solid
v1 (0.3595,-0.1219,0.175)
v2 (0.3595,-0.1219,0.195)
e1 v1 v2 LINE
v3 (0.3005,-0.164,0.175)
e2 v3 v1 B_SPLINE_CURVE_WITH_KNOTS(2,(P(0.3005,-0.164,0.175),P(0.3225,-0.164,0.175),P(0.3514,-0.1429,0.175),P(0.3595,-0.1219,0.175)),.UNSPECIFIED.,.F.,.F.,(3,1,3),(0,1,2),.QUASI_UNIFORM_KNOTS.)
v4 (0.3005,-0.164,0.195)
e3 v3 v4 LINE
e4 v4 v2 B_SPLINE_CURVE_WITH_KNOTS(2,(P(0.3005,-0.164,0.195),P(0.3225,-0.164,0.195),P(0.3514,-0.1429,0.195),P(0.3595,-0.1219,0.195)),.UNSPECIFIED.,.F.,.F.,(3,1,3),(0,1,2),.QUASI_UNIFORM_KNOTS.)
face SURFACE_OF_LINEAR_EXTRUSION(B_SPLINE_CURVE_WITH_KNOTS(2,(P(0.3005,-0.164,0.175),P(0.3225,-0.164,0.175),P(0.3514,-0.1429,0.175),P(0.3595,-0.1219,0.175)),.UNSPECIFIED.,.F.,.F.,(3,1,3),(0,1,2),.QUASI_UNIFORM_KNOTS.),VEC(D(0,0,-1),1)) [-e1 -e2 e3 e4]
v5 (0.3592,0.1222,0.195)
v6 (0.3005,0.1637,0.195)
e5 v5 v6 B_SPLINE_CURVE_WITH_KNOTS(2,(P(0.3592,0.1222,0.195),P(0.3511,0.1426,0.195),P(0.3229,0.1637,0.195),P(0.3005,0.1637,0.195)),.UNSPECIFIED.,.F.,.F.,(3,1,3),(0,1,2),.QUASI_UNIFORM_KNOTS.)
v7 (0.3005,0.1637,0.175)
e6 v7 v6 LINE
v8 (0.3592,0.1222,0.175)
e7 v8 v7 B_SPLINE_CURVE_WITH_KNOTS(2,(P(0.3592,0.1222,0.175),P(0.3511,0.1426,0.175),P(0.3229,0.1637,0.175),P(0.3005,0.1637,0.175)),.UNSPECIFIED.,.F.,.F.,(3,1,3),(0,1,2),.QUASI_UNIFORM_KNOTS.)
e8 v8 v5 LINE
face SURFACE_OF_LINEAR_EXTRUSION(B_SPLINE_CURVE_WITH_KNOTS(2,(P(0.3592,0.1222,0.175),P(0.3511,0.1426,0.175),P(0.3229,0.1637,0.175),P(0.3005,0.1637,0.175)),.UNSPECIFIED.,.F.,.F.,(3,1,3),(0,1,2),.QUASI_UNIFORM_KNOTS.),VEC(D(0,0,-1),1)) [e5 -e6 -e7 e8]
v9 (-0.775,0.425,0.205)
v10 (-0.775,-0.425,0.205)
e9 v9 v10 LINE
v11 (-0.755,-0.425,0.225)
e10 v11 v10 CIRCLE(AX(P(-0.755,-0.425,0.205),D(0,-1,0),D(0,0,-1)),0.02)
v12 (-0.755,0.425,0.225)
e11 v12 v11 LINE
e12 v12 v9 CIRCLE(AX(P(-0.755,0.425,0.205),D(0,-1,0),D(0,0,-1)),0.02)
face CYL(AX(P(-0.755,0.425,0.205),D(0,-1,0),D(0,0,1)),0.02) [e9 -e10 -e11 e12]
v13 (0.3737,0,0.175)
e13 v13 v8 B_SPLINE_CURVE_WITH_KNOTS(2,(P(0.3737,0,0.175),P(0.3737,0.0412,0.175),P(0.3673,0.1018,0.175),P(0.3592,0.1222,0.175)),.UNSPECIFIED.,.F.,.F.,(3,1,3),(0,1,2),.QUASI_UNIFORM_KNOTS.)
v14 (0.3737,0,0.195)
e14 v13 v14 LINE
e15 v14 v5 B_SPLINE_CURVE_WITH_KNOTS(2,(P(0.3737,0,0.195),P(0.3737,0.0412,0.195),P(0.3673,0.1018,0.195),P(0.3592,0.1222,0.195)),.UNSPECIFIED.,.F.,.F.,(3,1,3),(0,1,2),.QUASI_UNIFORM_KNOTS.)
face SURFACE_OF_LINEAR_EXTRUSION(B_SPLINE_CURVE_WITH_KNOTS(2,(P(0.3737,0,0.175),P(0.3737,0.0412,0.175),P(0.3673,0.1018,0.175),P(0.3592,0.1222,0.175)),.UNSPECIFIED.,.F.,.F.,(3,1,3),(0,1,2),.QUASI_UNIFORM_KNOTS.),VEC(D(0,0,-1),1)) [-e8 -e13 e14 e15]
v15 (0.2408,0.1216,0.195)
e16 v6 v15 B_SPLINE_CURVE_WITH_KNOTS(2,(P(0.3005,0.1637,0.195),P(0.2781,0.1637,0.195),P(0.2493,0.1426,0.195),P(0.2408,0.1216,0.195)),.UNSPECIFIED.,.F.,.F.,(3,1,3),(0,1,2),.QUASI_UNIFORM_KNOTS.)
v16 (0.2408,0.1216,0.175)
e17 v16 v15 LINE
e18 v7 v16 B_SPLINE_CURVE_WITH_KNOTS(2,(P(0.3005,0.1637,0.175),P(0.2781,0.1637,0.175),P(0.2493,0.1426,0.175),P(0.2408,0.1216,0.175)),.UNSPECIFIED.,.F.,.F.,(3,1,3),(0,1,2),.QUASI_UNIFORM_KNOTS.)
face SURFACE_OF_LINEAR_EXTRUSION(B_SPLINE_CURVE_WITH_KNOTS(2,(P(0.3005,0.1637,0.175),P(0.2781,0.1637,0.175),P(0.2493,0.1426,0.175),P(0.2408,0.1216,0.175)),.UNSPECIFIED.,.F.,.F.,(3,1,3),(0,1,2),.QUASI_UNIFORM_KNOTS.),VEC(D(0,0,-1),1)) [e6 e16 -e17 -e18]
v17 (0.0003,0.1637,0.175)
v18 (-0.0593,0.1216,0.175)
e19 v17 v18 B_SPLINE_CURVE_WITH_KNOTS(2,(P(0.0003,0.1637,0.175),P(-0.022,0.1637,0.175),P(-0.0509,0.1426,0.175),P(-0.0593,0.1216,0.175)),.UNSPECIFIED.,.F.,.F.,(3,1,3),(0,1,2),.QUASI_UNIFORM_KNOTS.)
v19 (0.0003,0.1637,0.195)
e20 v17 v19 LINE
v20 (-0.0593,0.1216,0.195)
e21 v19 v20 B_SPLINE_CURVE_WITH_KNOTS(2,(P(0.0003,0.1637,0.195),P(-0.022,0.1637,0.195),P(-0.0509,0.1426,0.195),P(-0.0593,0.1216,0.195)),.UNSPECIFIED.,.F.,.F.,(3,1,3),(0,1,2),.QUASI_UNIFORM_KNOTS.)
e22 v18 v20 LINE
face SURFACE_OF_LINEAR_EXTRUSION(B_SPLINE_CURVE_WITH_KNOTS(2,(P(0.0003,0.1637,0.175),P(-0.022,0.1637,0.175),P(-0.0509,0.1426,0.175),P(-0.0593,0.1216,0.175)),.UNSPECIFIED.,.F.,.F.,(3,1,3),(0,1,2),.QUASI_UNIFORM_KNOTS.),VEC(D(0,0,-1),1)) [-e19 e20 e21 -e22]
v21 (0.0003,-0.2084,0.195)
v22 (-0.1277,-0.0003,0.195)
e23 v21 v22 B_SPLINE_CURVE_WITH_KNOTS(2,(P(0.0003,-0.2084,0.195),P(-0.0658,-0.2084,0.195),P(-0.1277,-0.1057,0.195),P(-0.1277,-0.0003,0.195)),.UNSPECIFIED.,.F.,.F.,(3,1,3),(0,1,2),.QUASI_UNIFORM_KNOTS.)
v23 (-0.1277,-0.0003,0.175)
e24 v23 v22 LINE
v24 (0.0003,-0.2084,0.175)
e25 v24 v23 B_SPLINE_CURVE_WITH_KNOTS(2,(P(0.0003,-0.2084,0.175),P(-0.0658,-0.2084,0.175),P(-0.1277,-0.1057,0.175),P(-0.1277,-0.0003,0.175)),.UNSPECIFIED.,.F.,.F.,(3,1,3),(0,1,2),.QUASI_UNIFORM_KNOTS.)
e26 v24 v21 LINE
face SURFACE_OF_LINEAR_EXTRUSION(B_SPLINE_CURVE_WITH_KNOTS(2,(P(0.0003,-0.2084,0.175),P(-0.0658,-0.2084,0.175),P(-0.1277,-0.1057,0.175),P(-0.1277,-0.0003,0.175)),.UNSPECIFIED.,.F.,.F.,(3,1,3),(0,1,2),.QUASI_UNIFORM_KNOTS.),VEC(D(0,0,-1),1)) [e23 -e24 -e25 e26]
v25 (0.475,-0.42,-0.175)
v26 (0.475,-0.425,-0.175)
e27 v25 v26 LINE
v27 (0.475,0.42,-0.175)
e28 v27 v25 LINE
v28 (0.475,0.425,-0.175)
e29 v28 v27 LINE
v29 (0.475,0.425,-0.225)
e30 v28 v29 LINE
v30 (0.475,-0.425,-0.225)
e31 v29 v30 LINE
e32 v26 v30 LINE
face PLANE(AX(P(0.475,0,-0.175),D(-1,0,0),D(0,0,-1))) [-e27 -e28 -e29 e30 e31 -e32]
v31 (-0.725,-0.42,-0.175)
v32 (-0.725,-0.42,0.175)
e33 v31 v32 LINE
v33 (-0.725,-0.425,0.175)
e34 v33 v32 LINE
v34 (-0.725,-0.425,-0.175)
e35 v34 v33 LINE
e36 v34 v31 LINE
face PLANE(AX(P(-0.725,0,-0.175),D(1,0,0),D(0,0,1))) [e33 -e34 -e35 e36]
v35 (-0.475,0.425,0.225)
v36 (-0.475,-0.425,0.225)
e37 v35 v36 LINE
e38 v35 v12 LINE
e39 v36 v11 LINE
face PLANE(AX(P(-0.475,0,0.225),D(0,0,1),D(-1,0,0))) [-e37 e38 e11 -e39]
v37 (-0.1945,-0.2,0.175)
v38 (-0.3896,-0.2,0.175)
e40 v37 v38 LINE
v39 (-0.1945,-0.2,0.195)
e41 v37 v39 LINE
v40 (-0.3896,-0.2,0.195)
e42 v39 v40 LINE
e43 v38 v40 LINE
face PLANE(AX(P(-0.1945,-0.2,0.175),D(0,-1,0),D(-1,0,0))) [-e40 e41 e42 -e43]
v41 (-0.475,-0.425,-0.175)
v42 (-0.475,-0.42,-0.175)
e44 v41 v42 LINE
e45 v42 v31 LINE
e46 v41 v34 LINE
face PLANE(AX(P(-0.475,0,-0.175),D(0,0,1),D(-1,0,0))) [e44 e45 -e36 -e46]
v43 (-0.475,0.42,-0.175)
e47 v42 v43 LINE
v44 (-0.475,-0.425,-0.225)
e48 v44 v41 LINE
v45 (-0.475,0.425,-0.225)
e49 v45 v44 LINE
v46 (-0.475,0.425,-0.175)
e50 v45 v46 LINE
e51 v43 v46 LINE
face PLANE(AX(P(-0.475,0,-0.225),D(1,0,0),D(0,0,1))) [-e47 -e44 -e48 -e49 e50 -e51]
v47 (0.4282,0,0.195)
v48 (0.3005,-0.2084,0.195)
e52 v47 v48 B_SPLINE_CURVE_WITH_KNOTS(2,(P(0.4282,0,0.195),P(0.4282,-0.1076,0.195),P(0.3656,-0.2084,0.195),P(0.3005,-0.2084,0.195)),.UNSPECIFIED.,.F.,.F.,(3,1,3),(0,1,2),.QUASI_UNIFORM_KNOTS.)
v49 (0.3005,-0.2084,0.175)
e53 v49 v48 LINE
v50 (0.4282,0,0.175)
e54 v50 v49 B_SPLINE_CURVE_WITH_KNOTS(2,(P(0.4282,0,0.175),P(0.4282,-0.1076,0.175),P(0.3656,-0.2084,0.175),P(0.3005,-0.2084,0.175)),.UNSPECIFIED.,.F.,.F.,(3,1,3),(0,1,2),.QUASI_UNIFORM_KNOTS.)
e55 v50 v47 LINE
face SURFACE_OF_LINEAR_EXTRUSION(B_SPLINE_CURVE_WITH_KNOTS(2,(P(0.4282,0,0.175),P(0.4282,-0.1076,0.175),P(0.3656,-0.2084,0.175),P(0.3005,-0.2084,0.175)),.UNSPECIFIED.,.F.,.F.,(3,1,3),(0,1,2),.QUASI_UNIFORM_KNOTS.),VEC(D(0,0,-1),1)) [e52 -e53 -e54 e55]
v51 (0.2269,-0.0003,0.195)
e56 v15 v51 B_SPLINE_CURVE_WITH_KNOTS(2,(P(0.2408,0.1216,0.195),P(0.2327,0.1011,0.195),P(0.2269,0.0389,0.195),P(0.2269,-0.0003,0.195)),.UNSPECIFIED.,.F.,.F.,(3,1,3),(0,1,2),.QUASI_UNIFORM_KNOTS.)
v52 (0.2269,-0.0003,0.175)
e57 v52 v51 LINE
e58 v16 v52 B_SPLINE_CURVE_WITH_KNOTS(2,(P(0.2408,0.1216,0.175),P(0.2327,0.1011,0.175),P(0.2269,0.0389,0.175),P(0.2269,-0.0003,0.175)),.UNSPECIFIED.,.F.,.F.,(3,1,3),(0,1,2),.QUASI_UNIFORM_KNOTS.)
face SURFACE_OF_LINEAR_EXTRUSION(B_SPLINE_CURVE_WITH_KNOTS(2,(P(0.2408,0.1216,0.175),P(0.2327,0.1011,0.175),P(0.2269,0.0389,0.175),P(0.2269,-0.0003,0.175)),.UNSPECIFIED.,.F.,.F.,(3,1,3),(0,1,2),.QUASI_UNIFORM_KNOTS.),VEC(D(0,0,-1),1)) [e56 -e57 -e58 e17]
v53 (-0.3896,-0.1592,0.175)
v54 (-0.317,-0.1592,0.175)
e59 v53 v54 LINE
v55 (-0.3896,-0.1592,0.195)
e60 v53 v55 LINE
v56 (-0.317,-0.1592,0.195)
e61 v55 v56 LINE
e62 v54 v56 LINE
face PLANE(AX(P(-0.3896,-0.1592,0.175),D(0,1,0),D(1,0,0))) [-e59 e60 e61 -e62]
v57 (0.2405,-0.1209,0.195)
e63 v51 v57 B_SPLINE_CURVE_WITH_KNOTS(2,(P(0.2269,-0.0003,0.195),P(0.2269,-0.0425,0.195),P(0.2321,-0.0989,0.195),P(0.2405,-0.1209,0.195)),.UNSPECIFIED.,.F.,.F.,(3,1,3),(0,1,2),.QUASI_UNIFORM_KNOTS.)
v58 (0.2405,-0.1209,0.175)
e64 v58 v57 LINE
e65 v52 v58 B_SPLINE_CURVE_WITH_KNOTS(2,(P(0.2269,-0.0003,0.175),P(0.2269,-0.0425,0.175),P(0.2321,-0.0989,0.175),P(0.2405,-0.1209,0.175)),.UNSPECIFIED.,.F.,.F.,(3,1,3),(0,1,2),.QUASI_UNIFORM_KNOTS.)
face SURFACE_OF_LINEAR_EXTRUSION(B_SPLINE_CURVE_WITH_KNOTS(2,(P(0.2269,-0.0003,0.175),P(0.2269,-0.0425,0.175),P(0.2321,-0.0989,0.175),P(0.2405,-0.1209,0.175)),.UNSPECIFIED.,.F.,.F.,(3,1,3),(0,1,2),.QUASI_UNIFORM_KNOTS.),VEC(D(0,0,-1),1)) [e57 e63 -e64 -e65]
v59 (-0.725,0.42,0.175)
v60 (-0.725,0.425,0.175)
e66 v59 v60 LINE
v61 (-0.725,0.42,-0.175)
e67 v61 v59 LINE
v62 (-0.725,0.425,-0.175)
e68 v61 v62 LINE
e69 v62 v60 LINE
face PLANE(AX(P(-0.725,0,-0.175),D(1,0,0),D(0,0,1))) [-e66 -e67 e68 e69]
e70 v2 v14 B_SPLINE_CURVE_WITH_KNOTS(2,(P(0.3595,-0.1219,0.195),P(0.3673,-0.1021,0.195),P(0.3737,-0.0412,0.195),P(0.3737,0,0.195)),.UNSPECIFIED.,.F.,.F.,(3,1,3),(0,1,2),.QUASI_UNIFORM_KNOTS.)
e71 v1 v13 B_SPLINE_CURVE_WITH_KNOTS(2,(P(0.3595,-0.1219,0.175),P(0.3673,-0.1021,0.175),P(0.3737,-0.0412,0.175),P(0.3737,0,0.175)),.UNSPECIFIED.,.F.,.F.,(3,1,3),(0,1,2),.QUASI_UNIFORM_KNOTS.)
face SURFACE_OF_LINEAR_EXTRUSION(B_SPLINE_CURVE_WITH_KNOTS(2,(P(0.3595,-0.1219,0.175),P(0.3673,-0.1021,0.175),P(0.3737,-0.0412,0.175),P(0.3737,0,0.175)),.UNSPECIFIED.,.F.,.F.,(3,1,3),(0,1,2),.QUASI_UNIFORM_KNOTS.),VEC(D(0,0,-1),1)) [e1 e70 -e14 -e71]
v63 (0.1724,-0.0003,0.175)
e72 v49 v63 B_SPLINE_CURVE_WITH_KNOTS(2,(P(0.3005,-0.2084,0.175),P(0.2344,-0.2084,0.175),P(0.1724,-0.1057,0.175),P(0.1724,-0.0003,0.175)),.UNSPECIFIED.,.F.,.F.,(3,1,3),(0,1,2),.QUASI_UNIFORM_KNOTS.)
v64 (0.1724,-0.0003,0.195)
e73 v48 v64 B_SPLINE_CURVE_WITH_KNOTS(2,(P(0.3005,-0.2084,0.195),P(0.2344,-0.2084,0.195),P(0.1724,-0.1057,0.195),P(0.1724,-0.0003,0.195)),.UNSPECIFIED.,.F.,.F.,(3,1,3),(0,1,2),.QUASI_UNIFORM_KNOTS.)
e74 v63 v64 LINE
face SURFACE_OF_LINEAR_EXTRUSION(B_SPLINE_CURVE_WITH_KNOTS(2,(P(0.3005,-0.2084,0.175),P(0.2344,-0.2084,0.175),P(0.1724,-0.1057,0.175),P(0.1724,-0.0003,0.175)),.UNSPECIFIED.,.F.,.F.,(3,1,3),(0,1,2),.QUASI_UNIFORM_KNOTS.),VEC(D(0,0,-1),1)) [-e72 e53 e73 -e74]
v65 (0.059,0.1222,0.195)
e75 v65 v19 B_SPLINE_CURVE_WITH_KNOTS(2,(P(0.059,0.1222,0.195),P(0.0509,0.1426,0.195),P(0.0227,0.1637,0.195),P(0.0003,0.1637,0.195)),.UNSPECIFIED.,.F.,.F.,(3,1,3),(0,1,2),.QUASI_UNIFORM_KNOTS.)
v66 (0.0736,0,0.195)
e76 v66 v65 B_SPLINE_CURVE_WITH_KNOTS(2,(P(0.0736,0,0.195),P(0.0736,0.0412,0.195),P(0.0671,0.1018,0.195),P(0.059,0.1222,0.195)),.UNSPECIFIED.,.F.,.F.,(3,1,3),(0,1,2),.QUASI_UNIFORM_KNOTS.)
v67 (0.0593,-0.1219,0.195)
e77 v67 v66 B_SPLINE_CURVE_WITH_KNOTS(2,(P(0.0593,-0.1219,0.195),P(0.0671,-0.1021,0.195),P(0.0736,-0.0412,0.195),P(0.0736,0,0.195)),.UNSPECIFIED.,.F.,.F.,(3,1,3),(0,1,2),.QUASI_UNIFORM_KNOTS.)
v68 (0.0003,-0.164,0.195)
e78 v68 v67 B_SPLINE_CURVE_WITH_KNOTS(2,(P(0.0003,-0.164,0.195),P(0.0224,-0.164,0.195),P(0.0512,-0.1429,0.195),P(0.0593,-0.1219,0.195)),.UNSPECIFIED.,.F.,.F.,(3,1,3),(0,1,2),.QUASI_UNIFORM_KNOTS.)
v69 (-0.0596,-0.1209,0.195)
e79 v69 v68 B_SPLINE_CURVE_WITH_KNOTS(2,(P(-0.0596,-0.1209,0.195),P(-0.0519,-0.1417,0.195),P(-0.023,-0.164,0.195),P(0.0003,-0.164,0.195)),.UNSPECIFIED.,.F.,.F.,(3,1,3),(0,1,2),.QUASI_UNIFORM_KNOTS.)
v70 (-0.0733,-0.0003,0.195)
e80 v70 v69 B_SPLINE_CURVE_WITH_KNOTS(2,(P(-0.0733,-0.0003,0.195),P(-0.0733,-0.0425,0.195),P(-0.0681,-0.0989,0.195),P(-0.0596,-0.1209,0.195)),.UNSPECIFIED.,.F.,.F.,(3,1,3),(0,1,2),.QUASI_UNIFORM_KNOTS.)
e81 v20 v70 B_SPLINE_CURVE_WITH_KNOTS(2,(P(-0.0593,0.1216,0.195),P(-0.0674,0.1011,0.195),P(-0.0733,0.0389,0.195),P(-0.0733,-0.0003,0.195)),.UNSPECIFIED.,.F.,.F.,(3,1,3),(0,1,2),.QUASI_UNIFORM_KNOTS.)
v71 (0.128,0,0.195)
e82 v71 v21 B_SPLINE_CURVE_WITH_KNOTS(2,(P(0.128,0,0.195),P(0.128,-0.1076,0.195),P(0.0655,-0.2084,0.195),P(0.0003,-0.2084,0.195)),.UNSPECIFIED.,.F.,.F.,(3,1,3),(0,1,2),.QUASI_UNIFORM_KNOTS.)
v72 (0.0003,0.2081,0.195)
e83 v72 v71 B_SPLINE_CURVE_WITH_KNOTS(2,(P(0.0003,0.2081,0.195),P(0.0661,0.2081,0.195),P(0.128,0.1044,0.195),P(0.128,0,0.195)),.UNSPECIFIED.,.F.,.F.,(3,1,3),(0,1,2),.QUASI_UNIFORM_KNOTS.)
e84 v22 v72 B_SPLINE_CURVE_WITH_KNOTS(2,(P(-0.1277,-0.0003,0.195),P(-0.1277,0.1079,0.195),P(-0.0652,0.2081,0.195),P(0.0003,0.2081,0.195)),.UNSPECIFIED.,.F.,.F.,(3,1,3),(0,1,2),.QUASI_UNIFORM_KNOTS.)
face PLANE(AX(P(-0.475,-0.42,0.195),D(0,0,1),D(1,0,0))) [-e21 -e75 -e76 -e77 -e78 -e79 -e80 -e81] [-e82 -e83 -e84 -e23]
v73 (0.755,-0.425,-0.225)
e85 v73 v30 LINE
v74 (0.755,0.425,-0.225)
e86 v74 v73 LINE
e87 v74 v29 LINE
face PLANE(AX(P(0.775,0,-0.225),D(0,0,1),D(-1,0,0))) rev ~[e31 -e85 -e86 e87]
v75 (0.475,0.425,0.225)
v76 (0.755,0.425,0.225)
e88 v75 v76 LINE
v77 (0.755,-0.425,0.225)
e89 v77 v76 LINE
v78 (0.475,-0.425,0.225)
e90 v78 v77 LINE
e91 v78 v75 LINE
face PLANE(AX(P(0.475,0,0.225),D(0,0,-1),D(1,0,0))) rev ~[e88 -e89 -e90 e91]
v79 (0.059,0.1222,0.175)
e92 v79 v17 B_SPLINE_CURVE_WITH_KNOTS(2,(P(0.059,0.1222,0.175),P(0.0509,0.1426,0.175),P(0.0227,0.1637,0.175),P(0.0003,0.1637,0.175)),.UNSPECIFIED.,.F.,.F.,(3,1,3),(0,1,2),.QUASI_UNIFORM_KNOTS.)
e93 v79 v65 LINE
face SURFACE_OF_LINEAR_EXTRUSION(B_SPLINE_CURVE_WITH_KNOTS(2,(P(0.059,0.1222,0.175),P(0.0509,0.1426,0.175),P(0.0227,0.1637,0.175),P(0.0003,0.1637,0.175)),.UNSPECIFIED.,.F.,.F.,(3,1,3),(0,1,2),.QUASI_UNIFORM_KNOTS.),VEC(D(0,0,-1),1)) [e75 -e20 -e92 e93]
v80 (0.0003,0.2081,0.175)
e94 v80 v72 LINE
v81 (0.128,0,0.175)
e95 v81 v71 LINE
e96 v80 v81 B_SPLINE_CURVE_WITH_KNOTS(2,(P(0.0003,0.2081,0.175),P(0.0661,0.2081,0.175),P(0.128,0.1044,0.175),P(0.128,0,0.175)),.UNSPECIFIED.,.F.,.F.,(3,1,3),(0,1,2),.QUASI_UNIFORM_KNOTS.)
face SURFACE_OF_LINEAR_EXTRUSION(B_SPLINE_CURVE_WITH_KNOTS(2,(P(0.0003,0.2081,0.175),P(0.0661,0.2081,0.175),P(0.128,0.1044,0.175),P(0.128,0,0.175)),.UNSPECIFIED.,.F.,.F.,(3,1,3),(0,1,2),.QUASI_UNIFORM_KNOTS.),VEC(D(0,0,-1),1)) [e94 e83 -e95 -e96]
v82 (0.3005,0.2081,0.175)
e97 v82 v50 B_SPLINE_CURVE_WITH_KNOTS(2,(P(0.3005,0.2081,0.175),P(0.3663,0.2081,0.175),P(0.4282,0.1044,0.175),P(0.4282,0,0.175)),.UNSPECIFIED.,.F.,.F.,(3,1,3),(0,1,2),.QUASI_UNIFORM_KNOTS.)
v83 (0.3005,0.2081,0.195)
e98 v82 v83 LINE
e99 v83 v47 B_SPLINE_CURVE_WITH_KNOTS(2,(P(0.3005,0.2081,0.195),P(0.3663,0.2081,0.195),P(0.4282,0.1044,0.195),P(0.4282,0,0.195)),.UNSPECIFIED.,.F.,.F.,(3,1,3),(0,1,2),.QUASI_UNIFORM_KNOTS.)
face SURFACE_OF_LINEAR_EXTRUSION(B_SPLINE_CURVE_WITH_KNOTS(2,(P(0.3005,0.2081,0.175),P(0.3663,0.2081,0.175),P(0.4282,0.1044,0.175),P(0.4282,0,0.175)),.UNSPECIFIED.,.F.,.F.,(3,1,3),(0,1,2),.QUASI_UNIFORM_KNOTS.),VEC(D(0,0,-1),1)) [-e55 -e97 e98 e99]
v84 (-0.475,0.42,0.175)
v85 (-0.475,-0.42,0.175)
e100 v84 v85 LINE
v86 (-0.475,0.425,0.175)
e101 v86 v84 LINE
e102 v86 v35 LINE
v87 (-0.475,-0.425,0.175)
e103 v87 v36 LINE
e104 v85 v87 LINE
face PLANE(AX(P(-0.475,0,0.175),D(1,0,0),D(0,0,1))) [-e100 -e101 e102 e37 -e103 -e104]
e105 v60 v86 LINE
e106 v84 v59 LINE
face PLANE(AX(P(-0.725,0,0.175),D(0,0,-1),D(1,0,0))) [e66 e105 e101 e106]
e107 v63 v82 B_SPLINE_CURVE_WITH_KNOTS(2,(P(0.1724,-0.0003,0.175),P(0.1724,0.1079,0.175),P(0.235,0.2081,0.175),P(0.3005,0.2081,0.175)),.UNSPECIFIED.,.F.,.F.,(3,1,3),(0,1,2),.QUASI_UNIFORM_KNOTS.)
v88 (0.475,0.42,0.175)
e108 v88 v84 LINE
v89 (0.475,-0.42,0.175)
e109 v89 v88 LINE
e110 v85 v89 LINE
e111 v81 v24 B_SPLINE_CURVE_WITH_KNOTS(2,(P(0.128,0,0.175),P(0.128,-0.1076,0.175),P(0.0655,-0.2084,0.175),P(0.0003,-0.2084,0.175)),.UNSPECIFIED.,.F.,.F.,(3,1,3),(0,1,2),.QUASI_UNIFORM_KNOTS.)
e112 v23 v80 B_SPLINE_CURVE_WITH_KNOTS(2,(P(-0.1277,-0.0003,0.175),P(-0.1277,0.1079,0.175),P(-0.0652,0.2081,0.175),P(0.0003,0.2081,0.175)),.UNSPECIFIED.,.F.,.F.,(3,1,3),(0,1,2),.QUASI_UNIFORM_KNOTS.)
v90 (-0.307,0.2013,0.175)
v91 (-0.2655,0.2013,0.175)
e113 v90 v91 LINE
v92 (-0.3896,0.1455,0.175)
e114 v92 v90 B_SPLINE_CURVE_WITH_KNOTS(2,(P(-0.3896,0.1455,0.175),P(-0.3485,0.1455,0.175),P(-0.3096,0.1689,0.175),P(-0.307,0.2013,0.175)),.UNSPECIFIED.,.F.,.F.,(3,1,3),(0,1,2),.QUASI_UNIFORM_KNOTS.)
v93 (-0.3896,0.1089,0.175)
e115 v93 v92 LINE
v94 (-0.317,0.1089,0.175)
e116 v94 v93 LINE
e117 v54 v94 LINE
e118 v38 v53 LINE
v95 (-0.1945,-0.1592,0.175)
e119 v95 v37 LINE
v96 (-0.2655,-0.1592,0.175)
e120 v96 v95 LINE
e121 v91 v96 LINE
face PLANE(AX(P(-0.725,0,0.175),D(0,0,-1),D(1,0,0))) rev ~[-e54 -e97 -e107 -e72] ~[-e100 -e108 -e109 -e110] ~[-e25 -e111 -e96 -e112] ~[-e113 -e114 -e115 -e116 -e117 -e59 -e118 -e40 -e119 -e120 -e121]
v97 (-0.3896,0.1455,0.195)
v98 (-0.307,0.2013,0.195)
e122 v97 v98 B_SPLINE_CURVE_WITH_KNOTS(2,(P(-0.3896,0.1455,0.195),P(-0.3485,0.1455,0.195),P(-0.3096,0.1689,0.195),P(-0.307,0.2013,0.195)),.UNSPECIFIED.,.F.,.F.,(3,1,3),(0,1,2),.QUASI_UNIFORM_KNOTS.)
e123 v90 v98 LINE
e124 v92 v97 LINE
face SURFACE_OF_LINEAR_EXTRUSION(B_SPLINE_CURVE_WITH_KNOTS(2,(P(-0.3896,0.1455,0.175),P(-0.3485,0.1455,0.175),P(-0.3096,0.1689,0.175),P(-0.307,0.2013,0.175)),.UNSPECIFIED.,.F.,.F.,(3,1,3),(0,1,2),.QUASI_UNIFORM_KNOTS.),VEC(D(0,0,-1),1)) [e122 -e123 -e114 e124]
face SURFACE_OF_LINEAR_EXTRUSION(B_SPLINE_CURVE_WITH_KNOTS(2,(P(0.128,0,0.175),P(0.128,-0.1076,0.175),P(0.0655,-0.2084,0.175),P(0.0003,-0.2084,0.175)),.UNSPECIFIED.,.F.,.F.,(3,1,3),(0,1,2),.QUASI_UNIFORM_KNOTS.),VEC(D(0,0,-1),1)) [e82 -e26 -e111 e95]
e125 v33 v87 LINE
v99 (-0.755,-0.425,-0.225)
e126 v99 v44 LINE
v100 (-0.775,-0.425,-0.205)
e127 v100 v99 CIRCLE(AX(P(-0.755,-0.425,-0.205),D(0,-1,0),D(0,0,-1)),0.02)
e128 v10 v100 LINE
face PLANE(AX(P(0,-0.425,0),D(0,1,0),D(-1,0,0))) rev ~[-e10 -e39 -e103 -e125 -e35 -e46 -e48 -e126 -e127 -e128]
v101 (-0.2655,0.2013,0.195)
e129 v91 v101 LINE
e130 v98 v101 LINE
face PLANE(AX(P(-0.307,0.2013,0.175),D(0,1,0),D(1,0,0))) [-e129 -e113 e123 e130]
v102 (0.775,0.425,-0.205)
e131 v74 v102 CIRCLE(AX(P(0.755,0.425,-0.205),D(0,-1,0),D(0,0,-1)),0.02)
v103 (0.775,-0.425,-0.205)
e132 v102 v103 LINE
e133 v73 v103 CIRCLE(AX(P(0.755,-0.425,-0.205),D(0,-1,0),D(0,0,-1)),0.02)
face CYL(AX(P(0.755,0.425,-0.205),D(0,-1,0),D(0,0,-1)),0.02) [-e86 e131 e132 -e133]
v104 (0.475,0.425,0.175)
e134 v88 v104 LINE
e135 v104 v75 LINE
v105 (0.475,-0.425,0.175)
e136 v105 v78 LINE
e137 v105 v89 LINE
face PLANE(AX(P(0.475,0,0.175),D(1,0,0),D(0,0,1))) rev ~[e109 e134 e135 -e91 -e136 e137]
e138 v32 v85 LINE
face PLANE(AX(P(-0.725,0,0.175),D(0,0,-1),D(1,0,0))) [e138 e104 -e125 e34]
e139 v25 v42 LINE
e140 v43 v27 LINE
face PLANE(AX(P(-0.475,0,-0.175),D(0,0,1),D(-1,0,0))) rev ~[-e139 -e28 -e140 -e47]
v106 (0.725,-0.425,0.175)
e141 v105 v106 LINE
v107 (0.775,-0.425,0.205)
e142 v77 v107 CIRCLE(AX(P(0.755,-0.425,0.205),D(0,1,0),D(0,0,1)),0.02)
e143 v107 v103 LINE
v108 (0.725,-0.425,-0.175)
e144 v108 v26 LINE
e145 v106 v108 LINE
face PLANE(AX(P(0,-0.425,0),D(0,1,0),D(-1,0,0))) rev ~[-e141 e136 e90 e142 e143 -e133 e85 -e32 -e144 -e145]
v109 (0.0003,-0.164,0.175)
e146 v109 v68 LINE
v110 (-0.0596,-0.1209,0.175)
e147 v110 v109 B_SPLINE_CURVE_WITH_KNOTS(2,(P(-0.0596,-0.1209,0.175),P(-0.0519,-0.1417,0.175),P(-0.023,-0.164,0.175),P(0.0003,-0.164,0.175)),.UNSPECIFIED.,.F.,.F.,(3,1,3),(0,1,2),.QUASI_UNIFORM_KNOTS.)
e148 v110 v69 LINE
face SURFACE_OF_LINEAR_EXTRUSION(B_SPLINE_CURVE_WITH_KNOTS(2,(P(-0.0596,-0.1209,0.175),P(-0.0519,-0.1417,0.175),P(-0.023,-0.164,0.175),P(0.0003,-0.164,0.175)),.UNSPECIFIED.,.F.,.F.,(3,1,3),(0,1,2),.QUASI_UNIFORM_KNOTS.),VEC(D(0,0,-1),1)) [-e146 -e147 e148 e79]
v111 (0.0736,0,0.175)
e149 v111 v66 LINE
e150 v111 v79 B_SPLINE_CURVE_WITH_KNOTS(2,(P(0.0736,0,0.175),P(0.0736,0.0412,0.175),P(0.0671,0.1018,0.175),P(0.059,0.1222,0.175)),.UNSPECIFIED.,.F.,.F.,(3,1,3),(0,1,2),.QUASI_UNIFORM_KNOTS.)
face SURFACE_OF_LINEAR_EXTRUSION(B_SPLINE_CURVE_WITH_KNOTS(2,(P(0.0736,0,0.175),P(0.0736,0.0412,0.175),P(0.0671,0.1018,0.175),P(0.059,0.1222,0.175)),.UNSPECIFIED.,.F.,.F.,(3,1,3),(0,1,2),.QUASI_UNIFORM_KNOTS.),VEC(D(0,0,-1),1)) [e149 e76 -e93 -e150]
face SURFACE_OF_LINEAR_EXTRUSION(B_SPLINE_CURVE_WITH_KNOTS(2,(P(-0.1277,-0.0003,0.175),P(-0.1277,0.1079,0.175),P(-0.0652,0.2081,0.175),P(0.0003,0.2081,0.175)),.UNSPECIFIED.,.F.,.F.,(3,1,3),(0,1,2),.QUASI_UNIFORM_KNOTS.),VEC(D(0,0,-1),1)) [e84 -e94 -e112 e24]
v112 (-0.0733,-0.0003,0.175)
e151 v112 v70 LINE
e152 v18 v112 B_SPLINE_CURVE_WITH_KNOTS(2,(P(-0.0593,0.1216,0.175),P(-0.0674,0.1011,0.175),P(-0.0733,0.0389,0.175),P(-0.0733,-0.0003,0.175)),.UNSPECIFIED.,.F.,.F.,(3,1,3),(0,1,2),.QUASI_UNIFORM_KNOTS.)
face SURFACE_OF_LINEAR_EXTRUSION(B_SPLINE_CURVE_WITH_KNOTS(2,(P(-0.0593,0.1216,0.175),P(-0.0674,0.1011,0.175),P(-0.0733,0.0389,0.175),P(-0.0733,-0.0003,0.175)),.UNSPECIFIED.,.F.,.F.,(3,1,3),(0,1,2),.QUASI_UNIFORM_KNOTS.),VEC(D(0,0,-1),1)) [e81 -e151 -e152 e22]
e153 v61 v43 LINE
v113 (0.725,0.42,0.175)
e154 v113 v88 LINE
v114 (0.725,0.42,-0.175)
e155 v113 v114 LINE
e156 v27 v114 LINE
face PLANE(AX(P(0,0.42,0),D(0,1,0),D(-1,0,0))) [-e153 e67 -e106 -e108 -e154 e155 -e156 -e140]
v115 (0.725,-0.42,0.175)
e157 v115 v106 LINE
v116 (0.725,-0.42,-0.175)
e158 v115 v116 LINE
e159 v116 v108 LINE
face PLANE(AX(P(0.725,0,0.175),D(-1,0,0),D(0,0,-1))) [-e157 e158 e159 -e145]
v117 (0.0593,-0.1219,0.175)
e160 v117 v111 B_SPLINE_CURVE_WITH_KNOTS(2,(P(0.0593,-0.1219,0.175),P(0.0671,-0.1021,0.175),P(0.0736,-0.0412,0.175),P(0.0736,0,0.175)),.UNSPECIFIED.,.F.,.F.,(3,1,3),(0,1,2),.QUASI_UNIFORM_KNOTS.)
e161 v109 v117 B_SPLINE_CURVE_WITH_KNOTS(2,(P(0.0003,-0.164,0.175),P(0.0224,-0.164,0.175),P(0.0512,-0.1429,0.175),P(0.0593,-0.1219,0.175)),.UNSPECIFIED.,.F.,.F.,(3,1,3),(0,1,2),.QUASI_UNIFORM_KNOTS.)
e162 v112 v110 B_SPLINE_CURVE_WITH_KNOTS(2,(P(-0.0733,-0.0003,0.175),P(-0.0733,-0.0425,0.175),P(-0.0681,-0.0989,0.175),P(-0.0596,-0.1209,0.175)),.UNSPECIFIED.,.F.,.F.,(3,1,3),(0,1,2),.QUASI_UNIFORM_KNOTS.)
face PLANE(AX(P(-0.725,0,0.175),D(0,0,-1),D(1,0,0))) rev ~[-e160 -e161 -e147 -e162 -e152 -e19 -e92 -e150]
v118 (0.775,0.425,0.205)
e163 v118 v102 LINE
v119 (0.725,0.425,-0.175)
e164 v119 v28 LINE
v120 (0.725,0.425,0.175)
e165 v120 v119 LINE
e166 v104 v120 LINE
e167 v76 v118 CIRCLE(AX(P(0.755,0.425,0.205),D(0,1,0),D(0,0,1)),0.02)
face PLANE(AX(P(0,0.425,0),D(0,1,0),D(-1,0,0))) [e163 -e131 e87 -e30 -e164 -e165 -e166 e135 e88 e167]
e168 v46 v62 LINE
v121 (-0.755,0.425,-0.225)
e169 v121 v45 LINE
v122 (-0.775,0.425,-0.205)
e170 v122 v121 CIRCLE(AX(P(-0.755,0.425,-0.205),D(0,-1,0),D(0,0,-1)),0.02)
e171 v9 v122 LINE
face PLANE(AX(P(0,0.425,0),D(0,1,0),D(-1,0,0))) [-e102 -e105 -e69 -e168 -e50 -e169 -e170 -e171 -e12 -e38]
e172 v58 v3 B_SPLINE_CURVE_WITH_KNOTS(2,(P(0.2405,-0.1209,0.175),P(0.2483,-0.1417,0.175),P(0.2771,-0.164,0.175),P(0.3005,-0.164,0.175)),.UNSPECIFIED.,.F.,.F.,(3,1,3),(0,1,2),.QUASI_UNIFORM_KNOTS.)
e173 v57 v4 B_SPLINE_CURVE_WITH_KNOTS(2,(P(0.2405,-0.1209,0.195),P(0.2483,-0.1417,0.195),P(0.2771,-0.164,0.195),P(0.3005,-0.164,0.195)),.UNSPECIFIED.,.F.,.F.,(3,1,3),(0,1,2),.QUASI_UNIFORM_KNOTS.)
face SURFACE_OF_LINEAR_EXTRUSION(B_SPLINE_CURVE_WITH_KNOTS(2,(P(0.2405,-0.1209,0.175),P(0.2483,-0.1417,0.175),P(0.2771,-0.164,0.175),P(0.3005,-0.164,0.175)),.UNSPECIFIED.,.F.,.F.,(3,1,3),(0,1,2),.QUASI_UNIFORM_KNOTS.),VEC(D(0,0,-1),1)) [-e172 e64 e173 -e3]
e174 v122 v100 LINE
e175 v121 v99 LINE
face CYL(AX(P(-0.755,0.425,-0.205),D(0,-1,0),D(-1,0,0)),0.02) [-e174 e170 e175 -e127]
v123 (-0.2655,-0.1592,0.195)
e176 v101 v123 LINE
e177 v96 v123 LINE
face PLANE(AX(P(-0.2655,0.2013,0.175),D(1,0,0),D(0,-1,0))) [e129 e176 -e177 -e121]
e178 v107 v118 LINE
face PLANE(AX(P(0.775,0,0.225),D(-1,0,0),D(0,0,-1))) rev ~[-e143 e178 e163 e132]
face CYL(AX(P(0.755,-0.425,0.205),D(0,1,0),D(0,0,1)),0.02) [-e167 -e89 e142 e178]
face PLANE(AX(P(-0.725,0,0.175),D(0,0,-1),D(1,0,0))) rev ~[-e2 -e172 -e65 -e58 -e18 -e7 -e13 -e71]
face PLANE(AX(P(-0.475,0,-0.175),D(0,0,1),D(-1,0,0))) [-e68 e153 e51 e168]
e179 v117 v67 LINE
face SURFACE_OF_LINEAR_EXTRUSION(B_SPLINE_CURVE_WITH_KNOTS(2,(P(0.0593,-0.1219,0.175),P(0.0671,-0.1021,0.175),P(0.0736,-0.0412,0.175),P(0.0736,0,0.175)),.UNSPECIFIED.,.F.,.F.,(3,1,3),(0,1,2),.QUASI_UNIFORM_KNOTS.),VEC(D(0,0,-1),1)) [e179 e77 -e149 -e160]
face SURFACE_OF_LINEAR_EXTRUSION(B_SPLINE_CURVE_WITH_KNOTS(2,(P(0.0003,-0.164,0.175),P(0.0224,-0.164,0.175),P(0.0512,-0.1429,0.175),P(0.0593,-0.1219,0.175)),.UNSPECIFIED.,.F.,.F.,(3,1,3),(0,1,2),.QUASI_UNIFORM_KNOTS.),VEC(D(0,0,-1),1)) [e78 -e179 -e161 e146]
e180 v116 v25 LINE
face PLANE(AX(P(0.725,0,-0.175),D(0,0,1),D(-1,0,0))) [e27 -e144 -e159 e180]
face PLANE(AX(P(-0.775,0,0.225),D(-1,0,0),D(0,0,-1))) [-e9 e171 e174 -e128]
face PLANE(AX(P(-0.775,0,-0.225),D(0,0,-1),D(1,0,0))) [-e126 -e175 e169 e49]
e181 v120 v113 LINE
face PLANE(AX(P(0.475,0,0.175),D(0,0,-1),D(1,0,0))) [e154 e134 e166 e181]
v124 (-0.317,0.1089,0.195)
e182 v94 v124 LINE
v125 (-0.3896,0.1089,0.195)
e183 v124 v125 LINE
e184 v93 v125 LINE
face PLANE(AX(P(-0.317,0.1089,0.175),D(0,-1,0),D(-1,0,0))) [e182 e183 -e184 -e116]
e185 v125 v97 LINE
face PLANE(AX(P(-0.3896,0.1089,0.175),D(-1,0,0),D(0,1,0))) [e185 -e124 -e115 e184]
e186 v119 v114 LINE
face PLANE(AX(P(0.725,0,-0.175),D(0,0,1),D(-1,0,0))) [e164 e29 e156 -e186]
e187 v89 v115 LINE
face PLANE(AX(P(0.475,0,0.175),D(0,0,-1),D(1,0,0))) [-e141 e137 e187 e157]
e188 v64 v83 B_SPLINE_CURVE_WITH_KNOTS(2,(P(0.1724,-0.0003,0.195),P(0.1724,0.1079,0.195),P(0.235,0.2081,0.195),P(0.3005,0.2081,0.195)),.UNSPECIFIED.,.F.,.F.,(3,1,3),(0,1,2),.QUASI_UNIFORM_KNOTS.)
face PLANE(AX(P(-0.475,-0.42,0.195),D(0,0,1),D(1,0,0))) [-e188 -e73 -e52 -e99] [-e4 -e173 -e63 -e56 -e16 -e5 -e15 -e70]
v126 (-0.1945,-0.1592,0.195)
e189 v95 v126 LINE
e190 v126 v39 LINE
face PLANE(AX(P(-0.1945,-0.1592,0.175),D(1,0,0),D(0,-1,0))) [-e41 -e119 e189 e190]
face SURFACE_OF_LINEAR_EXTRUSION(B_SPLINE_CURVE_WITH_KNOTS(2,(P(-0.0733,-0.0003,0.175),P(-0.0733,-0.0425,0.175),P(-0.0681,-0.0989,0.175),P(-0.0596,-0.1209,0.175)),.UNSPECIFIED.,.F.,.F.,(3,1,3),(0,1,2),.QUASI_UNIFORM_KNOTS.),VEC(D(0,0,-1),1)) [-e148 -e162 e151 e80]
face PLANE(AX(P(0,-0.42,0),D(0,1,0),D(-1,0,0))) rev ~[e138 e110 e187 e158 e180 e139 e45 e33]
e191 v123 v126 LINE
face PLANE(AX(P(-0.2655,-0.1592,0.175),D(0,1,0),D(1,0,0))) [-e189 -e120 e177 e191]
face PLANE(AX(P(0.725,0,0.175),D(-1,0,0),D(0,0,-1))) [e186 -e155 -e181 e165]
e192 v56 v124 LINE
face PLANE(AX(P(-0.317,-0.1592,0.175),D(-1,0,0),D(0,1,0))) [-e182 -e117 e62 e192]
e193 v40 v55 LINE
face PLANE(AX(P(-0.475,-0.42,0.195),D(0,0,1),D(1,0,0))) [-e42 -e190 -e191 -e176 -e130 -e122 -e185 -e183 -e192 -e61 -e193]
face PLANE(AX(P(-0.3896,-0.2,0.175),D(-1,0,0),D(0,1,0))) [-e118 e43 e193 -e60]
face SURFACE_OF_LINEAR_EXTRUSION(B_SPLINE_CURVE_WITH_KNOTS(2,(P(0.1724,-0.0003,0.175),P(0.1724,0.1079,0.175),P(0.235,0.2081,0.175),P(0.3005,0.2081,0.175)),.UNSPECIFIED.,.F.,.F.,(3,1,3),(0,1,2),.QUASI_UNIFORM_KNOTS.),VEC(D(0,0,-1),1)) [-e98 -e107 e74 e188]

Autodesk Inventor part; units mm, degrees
ref_plane "YZ Plane" through (0, 0, 0) normal (1, 0, 0) x (0, 1, 0)
ref_plane "XZ Plane" through (0, 0, 0) normal (0, 1, 0) x (-1, 0, 0)
ref_plane "XY Plane" through (0, 0, 0) normal (0, 0, 1) x (1, 0, 0)
sketch "Sketch1" plane through (0, 0, 0) normal (0, 1, 0) x (-1, 0, 0)
  line L0 (0.725, 0.175) -> (-0.725, 0.175)
  line L1 (-0.725, 0.175) -> (-0.725, -0.175)
  line L2 (-0.725, -0.175) -> (0.725, -0.175)
  line L3 (0.725, -0.175) -> (0.725, 0.175)
  line L4 (0.475, 0.175) -> (0.475, 0.225)
  line L5 (0.475, 0.225) -> (0.775, 0.225)
  line L6 (0.775, 0.225) -> (0.775, -0.225)
  line L7 (0.775, -0.225) -> (0.475, -0.225)
  line L8 (0.475, -0.225) -> (0.475, -0.175)
  line L9 (-0.475, 0.175) -> (-0.475, 0.225)
  line L10 (-0.475, 0.225) -> (-0.775, 0.225)
  line L11 (-0.775, 0.225) -> (-0.775, -0.225)
  line L12 (-0.775, -0.225) -> (-0.475, -0.225)
  line L13 (-0.475, -0.175) -> (-0.475, -0.225)
  line L14 (0.475, 0.175) -> (-0.475, 0.175)
  point P0 (0, 0)
  point P1 (0, 0.175)
  point P2 (0.725, 0)
  dimension "d0" = 1.55
  dimension "d1" = 0.05
  dimension "d2" = 0.05
  dimension "d3" = 0.45
  dimension "d4" = 0.3
extrude "Extrusion1" add sketch "Sketch1" along normal mid plane 0.85 contours L0 L4 L5 L6 L7 L8 L2 L3 | L0 L1 L2 L13 L12 L11 L10 L9
extrude "Extrusion2" add sketch "Sketch1" along normal mid plane 0.84 contours L3 L2 L1 L0
sketch "Sketch2" plane through (-0.475, -0.42, 0.175) normal (0, 0, 1) x (1, 0, 0)
  line L0 (0, 0) -> (0, 0.84) projected
  line L1 (0.95, 0) -> (0, 0) projected
  line L2 (0.95, 0) -> (0.95, 0.84) projected
  line L3 (0, 0.84) -> (0.95, 0.84) projected
  line L4 (0, 0.42) -> (0.95, 0.42) construction
  line L5 (0.2805, 0.22) -> (0.0854, 0.22)
  line L6 (0.0854, 0.22) -> (0.0854, 0.2608)
  line L7 (0.0854, 0.2608) -> (0.158, 0.2608)
  line L8 (0.158, 0.2608) -> (0.158, 0.5289)
  line L9 (0.158, 0.5289) -> (0.0854, 0.5289)
  line L10 (0.0854, 0.5289) -> (0.0854, 0.5655)
  spline S0 degree 2 poles (0.0854, 0.5655) (0.1265, 0.5655) (0.1654, 0.5889) (0.168, 0.6213) knots 0 0 0 1 2 2 2
  line L11 (0.168, 0.6213) -> (0.2095, 0.6213)
  line L12 (0.2095, 0.6213) -> (0.2095, 0.2608)
  line L13 (0.2095, 0.2608) -> (0.2805, 0.2608)
  line L14 (0.2805, 0.2608) -> (0.2805, 0.22)
  spline S1 degree 2 poles (0.603, 0.42) (0.603, 0.3124) (0.5405, 0.2116) (0.4753, 0.2116) knots 0 0 0 1 2 2 2
  spline S2 degree 2 poles (0.4753, 0.2116) (0.4092, 0.2116) (0.3473, 0.3143) (0.3473, 0.4197) knots 0 0 0 1 2 2 2
  spline S3 degree 2 poles (0.3473, 0.4197) (0.3473, 0.5279) (0.4098, 0.6281) (0.4753, 0.6281) knots 0 0 0 1 2 2 2
  spline S4 degree 2 poles (0.4753, 0.6281) (0.5411, 0.6281) (0.603, 0.5244) (0.603, 0.42) knots 0 0 0 1 2 2 2
  spline S5 degree 2 poles (0.5343, 0.2981) (0.5421, 0.3179) (0.5486, 0.3788) (0.5486, 0.42) knots 0 0 0 1 2 2 2
  spline S6 degree 2 poles (0.5486, 0.42) (0.5486, 0.4612) (0.5421, 0.5218) (0.534, 0.5422) knots 0 0 0 1 2 2 2
  spline S7 degree 2 poles (0.534, 0.5422) (0.5259, 0.5626) (0.4977, 0.5837) (0.4753, 0.5837) knots 0 0 0 1 2 2 2
  spline S8 degree 2 poles (0.4753, 0.5837) (0.453, 0.5837) (0.4241, 0.5626) (0.4157, 0.5416) knots 0 0 0 1 2 2 2
  spline S9 degree 2 poles (0.4157, 0.5416) (0.4076, 0.5211) (0.4017, 0.4589) (0.4017, 0.4197) knots 0 0 0 1 2 2 2
  spline S10 degree 2 poles (0.4017, 0.4197) (0.4017, 0.3775) (0.4069, 0.3211) (0.4154, 0.2991) knots 0 0 0 1 2 2 2
  spline S11 degree 2 poles (0.4154, 0.2991) (0.4231, 0.2783) (0.452, 0.256) (0.4753, 0.256) knots 0 0 0 1 2 2 2
  spline S12 degree 2 poles (0.4753, 0.256) (0.4974, 0.256) (0.5262, 0.2771) (0.5343, 0.2981) knots 0 0 0 1 2 2 2
  spline S13 degree 2 poles (0.9032, 0.42) (0.9032, 0.3124) (0.8406, 0.2116) (0.7755, 0.2116) knots 0 0 0 1 2 2 2
  spline S14 degree 2 poles (0.7755, 0.2116) (0.7094, 0.2116) (0.6474, 0.3143) (0.6474, 0.4197) knots 0 0 0 1 2 2 2
  spline S15 degree 2 poles (0.6474, 0.4197) (0.6474, 0.5279) (0.71, 0.6281) (0.7755, 0.6281) knots 0 0 0 1 2 2 2
  spline S16 degree 2 poles (0.7755, 0.6281) (0.8413, 0.6281) (0.9032, 0.5244) (0.9032, 0.42) knots 0 0 0 1 2 2 2
  spline S17 degree 2 poles (0.8345, 0.2981) (0.8423, 0.3179) (0.8487, 0.3788) (0.8487, 0.42) knots 0 0 0 1 2 2 2
  spline S18 degree 2 poles (0.8487, 0.42) (0.8487, 0.4612) (0.8423, 0.5218) (0.8342, 0.5422) knots 0 0 0 1 2 2 2
  spline S19 degree 2 poles (0.8342, 0.5422) (0.8261, 0.5626) (0.7979, 0.5837) (0.7755, 0.5837) knots 0 0 0 1 2 2 2
  spline S20 degree 2 poles (0.7755, 0.5837) (0.7531, 0.5837) (0.7243, 0.5626) (0.7158, 0.5416) knots 0 0 0 1 2 2 2
  spline S21 degree 2 poles (0.7158, 0.5416) (0.7077, 0.5211) (0.7019, 0.4589) (0.7019, 0.4197) knots 0 0 0 1 2 2 2
  spline S22 degree 2 poles (0.7019, 0.4197) (0.7019, 0.3775) (0.7071, 0.3211) (0.7155, 0.2991) knots 0 0 0 1 2 2 2
  spline S23 degree 2 poles (0.7155, 0.2991) (0.7233, 0.2783) (0.7521, 0.256) (0.7755, 0.256) knots 0 0 0 1 2 2 2
  spline S24 degree 2 poles (0.7755, 0.256) (0.7975, 0.256) (0.8264, 0.2771) (0.8345, 0.2981) knots 0 0 0 1 2 2 2
  point P0 (0.475, 0.42)
extrude "Extrusion3" add sketch "Sketch2" along normal blind 0.02 contours L5 L6 L7 L8 L9 L10 S0 L11 L12 L13 L14 | S1 S2 S3 S4 | S13 S14 S15 S16
fillet "Fillet1" radius 0.02 4 edges at (-0.775, 0, 0.225) (-0.775, 0, -0.225) (0.775, 0, 0.225) (0.775, 0, -0.225)
equation "\"d2\" = d1"
properties part number "21-1001" material "Copper"
